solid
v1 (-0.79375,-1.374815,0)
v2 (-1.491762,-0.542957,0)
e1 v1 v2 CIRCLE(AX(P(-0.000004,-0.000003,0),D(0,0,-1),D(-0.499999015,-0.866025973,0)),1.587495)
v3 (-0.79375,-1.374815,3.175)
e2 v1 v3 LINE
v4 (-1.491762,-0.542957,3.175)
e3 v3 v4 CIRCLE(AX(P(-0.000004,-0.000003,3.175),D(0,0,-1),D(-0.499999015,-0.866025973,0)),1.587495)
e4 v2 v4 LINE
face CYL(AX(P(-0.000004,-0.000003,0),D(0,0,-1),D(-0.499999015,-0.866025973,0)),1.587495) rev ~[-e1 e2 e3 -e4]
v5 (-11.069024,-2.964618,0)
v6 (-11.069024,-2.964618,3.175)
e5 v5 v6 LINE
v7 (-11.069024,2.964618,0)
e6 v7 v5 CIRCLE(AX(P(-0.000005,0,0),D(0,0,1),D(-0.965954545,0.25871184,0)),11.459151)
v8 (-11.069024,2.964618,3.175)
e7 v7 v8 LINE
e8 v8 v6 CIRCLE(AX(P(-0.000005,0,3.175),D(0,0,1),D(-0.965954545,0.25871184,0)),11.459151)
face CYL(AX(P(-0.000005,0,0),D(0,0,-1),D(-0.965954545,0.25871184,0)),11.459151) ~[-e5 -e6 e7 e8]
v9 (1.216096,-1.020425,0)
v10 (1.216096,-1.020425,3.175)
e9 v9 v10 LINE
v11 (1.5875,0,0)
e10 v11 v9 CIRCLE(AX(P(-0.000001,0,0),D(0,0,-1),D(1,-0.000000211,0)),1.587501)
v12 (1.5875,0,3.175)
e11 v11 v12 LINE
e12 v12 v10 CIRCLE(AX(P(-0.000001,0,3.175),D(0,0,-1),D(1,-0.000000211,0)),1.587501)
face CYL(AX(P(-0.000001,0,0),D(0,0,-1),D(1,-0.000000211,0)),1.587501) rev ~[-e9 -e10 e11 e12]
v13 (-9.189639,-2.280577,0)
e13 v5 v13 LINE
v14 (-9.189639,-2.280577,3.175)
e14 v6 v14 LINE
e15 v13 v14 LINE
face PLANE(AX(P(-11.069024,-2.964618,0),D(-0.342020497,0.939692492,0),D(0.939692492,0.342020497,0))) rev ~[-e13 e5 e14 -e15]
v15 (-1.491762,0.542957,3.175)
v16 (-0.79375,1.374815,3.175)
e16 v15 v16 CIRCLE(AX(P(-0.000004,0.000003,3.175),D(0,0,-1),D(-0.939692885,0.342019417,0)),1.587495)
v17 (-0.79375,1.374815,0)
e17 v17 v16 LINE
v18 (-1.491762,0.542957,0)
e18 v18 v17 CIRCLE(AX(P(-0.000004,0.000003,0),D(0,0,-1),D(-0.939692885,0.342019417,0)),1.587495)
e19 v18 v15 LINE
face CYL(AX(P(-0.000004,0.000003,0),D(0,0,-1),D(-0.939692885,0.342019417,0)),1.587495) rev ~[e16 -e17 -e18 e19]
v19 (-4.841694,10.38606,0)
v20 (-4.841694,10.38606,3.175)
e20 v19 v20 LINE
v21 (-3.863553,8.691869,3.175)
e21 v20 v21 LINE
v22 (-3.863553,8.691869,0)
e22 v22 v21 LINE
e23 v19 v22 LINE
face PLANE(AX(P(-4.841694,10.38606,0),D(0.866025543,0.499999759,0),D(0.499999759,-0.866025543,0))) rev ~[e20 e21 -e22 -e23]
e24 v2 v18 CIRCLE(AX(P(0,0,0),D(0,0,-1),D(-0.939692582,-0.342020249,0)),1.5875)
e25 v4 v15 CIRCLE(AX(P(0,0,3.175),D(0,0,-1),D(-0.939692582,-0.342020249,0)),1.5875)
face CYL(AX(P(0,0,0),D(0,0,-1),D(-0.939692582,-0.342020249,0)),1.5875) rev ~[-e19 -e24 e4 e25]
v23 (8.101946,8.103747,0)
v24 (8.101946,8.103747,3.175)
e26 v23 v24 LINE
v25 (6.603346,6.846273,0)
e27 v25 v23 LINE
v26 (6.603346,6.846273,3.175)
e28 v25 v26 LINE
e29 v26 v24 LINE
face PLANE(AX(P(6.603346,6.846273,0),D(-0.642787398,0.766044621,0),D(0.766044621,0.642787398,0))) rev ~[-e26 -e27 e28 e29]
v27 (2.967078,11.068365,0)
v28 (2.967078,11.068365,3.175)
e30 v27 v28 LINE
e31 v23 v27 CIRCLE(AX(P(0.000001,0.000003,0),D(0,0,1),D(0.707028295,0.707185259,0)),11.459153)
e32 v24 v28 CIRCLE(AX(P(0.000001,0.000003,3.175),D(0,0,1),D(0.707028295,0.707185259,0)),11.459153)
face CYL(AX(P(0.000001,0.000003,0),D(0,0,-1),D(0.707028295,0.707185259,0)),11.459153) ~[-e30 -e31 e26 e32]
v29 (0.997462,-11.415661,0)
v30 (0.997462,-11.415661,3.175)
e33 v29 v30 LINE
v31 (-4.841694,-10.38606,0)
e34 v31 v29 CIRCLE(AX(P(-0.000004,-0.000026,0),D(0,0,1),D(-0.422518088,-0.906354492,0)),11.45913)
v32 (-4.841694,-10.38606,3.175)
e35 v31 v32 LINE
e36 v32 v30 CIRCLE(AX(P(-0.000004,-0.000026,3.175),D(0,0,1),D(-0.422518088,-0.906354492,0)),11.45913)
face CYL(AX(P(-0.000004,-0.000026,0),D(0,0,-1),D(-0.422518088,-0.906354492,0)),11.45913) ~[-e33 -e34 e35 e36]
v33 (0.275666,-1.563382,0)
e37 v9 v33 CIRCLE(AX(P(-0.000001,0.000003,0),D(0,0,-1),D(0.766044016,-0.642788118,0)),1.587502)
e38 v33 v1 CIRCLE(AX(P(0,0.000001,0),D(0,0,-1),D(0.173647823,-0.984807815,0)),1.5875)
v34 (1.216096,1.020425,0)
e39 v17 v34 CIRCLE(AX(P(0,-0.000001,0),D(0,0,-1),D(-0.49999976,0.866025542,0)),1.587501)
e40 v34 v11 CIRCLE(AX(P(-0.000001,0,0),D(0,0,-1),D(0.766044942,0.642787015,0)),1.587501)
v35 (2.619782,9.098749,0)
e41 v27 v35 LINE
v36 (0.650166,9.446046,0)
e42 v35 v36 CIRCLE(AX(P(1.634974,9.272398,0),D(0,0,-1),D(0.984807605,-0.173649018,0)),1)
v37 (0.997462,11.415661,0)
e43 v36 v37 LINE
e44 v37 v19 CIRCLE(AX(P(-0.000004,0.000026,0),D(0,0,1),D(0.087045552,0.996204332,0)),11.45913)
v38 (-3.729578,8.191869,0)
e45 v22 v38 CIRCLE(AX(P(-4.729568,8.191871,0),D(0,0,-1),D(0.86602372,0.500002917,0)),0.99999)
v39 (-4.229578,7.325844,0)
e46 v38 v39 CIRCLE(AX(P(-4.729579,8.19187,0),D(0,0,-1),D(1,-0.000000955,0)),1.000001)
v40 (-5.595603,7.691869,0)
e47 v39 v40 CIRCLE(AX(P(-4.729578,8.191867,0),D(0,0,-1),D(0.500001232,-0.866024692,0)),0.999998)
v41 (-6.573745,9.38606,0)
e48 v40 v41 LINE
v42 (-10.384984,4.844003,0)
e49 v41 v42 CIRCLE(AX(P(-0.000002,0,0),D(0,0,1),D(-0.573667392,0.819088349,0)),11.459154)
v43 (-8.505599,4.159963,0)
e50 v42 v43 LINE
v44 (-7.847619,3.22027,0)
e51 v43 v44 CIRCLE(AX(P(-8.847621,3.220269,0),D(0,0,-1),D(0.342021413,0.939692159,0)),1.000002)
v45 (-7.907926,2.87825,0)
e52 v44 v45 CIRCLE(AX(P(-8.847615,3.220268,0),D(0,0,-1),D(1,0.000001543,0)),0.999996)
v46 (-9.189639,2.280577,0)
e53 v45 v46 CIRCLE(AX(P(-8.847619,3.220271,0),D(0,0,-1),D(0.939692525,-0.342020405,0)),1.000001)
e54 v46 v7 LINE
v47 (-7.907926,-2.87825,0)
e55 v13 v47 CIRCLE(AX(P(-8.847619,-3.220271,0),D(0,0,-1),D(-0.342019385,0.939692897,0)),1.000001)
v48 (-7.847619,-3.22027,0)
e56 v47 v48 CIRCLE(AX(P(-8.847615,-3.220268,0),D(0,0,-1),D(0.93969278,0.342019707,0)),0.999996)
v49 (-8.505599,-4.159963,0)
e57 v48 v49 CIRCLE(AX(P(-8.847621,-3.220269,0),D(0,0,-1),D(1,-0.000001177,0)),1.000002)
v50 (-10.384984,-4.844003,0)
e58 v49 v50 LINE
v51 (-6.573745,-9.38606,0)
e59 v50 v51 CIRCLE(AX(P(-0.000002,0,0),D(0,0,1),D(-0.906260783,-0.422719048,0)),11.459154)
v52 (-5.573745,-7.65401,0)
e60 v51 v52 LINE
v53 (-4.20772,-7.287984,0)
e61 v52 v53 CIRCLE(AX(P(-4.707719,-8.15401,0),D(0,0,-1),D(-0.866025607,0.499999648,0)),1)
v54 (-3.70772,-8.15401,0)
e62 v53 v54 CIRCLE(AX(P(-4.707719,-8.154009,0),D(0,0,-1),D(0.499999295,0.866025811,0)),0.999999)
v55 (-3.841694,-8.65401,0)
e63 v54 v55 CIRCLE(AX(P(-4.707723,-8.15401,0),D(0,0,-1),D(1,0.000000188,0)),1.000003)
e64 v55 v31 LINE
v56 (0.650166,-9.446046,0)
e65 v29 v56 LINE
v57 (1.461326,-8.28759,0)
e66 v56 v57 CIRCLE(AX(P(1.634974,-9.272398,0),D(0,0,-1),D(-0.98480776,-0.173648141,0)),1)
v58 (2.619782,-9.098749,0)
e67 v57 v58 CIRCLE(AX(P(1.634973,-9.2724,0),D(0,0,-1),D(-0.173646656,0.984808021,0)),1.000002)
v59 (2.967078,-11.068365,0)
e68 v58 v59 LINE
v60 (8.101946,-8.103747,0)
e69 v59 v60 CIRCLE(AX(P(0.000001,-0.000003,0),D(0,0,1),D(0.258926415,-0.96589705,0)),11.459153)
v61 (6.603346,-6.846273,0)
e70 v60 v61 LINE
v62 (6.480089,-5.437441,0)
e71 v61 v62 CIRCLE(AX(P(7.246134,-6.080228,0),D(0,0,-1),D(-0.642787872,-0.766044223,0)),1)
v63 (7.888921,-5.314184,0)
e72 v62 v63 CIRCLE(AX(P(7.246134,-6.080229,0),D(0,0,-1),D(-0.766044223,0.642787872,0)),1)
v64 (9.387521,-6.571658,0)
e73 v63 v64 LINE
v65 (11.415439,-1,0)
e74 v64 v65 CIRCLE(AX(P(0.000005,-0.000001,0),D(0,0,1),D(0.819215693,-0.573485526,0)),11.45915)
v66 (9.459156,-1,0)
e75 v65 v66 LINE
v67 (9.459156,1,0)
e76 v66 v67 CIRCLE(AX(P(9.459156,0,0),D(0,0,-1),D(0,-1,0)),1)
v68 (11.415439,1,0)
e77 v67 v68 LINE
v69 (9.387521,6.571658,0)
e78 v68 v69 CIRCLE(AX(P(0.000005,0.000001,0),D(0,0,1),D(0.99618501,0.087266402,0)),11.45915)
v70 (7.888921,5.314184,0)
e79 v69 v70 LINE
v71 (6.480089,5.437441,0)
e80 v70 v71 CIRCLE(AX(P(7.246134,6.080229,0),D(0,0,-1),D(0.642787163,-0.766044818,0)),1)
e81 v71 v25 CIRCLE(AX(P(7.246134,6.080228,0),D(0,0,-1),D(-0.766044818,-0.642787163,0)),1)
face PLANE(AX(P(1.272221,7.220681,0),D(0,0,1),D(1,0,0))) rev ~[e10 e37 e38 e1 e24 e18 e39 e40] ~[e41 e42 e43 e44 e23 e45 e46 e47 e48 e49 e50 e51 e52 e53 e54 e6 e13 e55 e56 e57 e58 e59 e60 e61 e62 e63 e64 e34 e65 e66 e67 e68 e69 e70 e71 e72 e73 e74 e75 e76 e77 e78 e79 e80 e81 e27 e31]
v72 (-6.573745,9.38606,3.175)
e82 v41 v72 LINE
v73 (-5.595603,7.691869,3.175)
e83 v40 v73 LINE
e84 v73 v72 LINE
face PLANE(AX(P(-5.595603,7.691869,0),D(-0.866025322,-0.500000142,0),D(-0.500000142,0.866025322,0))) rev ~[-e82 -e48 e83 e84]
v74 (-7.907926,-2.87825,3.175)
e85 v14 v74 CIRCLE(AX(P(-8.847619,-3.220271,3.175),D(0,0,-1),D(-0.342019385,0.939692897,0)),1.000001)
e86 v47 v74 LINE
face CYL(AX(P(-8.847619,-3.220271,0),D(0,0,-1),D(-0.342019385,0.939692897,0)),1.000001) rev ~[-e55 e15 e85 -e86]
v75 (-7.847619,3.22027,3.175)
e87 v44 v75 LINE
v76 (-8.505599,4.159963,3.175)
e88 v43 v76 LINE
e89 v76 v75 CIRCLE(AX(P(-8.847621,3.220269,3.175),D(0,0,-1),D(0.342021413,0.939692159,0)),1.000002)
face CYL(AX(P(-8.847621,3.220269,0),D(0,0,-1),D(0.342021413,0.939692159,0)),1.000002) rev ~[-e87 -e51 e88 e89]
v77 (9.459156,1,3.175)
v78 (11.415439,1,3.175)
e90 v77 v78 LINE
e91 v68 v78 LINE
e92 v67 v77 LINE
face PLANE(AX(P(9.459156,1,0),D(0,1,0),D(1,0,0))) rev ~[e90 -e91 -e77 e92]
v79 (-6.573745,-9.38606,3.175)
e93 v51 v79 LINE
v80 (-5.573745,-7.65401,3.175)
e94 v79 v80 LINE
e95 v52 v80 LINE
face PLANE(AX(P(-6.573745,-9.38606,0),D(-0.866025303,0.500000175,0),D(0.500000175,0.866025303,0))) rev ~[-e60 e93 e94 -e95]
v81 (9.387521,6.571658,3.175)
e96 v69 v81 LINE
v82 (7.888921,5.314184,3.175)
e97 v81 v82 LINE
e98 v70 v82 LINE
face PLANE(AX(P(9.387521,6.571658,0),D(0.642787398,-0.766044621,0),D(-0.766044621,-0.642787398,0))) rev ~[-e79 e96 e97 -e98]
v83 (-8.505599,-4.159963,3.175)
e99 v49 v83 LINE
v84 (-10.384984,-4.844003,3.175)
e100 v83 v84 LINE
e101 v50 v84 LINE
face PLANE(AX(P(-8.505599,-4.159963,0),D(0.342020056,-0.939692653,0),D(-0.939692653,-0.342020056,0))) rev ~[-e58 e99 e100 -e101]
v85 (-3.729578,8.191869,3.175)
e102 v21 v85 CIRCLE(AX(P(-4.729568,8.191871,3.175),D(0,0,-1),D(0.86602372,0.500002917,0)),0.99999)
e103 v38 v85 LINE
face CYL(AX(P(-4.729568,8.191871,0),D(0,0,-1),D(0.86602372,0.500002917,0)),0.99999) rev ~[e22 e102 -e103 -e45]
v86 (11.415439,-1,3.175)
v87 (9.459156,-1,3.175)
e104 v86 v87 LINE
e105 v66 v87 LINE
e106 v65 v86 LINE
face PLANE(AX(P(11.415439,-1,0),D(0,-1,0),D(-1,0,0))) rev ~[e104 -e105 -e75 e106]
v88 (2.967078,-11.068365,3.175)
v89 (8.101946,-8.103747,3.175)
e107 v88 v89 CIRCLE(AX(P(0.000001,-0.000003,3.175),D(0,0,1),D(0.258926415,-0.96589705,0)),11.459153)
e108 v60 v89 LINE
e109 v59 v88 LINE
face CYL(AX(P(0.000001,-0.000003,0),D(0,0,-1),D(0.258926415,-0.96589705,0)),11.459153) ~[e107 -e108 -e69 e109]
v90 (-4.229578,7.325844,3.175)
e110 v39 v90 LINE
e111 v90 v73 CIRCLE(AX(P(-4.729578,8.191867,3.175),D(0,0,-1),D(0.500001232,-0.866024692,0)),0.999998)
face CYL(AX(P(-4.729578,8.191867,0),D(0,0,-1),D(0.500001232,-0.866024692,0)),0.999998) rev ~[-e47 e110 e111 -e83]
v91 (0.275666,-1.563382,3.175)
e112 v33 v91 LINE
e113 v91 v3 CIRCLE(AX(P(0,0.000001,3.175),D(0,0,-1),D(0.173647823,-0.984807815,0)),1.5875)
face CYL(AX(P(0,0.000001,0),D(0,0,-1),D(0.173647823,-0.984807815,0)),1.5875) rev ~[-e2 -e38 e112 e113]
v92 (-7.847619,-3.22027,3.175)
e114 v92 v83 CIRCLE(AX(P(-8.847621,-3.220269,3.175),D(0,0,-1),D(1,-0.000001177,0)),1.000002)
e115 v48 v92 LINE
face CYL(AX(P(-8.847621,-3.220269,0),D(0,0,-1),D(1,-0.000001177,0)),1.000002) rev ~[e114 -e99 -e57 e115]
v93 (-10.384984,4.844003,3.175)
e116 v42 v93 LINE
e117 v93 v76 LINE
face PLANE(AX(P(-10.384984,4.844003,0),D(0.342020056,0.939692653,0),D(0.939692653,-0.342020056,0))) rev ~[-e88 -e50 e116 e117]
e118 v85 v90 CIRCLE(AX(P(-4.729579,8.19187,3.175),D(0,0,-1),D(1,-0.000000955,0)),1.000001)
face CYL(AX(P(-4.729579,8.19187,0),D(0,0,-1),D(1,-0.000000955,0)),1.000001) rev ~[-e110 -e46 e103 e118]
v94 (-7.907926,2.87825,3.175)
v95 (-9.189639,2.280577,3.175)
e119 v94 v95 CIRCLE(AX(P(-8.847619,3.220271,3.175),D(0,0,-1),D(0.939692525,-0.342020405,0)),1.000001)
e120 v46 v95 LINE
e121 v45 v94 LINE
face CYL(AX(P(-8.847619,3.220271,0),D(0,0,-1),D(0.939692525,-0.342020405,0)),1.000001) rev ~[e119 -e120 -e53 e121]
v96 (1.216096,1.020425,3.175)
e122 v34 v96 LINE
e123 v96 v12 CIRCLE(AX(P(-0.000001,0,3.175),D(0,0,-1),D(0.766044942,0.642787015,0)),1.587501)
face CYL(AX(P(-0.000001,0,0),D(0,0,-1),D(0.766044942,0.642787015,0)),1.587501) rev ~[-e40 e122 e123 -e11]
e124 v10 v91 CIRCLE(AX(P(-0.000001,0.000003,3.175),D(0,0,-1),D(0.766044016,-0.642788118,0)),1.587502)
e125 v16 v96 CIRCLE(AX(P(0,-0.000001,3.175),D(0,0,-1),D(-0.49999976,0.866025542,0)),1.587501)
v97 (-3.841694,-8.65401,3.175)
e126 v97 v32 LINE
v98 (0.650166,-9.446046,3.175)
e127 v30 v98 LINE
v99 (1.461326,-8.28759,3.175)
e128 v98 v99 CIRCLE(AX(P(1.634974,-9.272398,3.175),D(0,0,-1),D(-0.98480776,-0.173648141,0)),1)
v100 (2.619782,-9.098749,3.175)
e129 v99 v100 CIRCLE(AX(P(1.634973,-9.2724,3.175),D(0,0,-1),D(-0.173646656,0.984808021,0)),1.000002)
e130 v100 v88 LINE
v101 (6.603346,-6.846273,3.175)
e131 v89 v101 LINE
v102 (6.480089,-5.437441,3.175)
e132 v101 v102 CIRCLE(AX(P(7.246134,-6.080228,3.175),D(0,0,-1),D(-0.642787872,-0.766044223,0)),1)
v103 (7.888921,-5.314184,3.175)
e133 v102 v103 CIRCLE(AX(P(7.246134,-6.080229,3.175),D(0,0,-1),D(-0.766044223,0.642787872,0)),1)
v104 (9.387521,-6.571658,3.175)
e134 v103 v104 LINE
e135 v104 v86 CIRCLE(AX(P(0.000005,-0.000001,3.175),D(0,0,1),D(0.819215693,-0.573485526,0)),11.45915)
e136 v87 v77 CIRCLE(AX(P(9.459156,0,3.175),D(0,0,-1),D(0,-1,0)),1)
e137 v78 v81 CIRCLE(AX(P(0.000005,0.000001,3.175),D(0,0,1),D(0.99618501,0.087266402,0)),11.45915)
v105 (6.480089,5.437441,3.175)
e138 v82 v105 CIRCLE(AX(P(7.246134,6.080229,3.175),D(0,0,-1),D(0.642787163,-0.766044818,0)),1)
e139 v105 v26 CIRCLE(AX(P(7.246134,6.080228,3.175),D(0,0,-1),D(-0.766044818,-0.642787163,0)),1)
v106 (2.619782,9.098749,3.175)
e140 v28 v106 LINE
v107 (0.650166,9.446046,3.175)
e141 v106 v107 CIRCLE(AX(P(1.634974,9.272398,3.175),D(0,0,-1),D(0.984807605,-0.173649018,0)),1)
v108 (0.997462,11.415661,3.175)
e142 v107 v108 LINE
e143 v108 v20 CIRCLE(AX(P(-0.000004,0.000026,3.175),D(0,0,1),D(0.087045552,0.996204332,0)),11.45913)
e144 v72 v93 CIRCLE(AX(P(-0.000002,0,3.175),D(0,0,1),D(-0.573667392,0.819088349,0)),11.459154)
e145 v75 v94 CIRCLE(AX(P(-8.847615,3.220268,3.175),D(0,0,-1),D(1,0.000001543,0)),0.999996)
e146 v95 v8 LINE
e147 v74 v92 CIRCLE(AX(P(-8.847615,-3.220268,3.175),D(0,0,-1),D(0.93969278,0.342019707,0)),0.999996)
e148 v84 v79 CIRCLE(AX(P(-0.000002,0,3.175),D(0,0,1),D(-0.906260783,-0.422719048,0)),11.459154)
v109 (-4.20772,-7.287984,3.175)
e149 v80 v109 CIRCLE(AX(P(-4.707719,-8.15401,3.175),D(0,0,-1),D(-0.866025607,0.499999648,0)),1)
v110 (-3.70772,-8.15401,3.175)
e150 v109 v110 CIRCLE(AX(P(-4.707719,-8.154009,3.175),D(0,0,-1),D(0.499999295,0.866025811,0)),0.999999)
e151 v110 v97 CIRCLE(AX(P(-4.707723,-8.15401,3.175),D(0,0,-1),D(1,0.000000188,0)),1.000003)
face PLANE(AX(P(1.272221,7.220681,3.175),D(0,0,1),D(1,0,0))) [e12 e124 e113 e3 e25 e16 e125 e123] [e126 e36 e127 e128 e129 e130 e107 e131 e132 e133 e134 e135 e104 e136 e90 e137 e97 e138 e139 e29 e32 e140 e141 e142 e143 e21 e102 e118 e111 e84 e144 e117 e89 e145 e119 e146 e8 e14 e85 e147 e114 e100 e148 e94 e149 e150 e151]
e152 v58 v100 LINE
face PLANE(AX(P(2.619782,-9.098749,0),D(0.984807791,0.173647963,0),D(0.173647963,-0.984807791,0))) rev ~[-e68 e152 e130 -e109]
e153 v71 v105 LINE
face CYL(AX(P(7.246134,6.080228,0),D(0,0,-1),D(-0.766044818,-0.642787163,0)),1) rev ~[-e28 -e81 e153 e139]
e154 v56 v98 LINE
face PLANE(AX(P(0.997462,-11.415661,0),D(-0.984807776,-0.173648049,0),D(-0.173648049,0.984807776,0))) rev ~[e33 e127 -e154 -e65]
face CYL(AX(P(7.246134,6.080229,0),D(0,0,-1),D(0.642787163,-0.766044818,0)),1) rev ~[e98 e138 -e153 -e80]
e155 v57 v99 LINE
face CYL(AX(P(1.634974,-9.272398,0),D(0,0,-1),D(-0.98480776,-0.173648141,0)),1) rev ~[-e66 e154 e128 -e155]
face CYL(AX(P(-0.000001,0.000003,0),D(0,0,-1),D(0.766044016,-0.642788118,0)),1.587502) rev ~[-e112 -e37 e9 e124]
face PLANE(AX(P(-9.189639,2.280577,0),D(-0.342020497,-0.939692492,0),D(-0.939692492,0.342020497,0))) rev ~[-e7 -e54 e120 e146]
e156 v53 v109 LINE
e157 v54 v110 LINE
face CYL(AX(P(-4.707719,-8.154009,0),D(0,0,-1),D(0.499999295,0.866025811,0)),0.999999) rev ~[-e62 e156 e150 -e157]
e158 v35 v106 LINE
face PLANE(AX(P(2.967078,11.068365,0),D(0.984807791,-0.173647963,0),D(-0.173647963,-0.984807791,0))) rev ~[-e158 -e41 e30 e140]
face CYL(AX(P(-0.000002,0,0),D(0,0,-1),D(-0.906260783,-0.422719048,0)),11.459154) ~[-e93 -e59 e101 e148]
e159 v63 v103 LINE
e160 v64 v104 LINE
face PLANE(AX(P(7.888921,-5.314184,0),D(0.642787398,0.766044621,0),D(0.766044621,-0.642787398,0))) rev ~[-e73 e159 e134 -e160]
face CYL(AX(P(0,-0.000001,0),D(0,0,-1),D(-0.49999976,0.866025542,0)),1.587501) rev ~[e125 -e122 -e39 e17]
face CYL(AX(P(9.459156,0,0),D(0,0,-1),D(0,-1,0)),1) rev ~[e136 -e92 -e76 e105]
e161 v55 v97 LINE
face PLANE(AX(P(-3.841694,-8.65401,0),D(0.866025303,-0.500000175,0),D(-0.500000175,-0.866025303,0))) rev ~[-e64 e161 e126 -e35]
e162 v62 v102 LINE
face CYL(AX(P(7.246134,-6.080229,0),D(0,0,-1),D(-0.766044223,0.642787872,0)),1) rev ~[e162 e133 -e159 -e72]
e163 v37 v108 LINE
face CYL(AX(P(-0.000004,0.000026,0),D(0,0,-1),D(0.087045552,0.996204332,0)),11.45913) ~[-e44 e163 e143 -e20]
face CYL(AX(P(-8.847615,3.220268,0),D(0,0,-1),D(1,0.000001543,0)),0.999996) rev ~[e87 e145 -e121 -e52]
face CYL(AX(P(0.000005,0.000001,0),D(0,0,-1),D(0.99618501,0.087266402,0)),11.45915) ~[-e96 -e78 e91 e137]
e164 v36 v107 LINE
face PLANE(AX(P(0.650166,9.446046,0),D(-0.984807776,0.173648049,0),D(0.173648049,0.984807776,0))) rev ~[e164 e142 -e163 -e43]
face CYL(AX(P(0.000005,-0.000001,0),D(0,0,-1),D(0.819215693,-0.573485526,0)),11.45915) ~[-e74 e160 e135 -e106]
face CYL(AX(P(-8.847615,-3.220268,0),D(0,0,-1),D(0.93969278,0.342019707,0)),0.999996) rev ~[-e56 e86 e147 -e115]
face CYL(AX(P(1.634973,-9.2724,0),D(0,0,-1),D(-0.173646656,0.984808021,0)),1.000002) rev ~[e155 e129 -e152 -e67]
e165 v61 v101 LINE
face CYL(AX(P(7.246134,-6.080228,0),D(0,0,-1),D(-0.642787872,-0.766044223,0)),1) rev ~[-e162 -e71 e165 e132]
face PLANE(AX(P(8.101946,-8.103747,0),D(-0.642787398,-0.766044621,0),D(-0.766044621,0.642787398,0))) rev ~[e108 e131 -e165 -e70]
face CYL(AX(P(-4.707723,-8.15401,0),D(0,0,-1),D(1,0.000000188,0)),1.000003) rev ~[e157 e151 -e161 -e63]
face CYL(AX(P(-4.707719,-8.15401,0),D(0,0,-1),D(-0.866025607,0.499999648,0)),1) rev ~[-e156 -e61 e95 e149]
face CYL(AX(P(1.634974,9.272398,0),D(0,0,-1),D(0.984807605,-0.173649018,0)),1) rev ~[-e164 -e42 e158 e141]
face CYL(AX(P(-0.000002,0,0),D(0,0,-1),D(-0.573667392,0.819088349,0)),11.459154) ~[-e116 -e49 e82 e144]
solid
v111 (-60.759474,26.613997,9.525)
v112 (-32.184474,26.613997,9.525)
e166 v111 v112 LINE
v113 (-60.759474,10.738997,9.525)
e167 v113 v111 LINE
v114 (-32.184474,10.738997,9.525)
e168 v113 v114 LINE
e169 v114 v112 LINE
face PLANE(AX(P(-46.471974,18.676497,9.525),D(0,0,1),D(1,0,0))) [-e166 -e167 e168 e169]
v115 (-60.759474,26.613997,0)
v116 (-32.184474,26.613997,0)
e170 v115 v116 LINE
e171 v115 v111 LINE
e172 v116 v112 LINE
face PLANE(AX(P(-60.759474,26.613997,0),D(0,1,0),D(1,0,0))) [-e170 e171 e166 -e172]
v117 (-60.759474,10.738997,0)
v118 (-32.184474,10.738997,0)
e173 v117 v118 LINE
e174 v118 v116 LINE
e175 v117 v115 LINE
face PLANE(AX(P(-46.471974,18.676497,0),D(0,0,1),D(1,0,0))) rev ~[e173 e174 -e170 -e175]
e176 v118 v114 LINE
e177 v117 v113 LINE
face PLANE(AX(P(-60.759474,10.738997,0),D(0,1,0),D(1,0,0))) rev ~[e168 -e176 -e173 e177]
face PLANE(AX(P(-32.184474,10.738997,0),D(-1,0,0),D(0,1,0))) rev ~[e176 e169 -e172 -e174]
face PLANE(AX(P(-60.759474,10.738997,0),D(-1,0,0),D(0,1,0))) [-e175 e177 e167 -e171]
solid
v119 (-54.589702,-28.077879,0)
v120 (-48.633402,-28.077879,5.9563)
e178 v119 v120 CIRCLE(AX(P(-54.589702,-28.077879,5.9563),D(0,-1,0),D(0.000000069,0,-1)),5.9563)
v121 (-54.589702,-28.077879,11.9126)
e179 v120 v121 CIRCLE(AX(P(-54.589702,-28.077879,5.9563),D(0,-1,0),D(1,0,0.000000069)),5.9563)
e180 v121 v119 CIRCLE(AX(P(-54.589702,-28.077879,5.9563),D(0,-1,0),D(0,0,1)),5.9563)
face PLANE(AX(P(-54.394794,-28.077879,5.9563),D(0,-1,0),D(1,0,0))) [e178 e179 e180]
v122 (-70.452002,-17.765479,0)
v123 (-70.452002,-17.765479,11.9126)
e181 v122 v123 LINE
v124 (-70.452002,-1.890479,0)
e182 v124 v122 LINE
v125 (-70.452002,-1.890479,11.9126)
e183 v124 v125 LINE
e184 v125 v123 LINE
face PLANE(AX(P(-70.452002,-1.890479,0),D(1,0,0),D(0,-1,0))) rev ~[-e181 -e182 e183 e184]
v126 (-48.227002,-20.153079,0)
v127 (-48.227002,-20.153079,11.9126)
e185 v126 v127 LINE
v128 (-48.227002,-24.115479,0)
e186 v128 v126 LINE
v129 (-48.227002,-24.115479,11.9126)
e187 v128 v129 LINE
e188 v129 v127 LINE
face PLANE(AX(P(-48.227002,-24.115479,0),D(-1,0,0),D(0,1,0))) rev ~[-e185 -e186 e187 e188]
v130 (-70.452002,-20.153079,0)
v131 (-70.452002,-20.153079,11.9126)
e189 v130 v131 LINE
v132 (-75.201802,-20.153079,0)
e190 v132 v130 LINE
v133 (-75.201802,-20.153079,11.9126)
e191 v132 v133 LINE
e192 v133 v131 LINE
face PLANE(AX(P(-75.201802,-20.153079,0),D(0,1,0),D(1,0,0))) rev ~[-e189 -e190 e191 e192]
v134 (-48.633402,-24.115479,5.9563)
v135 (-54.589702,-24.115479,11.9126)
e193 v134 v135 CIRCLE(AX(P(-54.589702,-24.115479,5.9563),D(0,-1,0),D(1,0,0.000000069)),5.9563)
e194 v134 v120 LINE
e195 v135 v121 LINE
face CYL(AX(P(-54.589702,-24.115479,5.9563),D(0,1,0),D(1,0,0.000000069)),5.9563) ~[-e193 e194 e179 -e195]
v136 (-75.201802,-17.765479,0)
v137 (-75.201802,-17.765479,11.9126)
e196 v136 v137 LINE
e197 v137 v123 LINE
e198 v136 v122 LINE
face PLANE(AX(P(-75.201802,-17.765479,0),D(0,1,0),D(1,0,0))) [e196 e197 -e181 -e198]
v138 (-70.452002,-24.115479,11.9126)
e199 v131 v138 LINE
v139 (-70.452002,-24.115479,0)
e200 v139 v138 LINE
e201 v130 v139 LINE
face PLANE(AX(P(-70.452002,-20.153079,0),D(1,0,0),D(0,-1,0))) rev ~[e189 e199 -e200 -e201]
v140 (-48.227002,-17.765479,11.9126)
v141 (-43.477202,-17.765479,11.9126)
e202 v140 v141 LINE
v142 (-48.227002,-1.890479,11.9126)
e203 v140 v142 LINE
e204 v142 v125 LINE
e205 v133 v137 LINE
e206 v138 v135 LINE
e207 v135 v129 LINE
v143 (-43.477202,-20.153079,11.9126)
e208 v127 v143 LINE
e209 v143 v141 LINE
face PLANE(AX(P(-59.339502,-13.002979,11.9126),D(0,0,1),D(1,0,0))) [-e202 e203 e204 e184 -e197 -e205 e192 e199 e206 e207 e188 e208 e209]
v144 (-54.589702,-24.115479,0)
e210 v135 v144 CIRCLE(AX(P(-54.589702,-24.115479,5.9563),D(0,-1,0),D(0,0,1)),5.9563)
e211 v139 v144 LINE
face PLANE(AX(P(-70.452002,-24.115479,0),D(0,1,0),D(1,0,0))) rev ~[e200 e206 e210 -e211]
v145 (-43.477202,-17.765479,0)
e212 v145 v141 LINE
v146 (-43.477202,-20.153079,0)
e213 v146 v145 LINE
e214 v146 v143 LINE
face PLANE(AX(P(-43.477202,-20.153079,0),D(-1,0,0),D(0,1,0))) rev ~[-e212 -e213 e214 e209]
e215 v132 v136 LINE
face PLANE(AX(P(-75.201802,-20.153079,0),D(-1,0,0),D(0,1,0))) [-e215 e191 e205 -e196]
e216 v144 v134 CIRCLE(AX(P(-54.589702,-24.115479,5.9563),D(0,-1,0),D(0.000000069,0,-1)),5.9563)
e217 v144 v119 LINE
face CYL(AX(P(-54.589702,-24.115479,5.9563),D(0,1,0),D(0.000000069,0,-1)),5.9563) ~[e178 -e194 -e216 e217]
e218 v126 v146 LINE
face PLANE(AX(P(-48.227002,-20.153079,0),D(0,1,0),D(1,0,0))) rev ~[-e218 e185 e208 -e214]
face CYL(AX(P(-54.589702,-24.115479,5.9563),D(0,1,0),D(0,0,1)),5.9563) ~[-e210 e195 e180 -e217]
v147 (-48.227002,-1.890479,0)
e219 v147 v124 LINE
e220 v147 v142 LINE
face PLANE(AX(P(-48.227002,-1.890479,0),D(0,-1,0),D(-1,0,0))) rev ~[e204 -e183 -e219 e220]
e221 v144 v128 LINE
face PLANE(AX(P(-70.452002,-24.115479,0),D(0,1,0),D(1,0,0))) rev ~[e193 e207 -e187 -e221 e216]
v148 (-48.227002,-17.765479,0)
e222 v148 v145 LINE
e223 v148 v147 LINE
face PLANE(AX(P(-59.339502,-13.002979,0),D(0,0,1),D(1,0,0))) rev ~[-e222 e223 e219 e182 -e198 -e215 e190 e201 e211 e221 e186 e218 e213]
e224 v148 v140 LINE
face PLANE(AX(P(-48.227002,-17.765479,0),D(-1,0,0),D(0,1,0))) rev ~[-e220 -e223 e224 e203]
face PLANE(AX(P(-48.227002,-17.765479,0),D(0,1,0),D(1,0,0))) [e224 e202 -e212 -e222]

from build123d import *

# Parameters (mm, degrees)
F1_DEPTH = 3.175
F2_W     = 4.7498
F2_H     = 2.3876
F3_DEPTH = 11.9126
F5_DEPTH = 3.9624
F6_W     = 28.575
F6_H     = 15.875
F7_DEPTH = 9.525


with BuildPart() as f1:
    # F0 (on Top) → F1 (new body)
    with BuildSketch(Plane.XY):
        with BuildLine():
            Line((6.603346, 6.846273), (8.101946, 8.103747))
            ThreePointArc((8.101946, 8.103747), (5.729578, 9.92392), (2.967078, 11.068365))
            Line((2.967078, 11.068365), (2.619782, 9.098749))
            ThreePointArc((2.619782, 9.098749), (1.461326, 8.28759), (0.650166, 9.446046))
            Line((0.650166, 9.446046), (0.997462, 11.415661))
            ThreePointArc((0.997462, 11.415661), (-1.989862, 11.285066), (-4.841694, 10.38606))
            Line((-4.841694, 10.38606), (-3.863553, 8.691869))
            ThreePointArc((-3.863553, 8.691869), (-3.763652, 8.450688), (-3.729578, 8.191869))
            ThreePointArc((-3.729578, 8.191869), (-3.863553, 7.691869), (-4.229578, 7.325844))
            Line((-4.229578, 7.325844), (-0.79375, 1.374815))
            ThreePointArc((-0.79375, 1.374815), (0.275666, 1.563382), (1.216096, 1.020425))
            Line((1.216096, 1.020425), (6.480089, 5.437441))
            ThreePointArc((6.480089, 5.437441), (6.249939, 6.167384), (6.603346, 6.846273))
        make_face()
        with BuildLine():
            Line((9.459156, 1), (11.415439, 1))
            ThreePointArc((11.415439, 1), (10.768084, 3.919262), (9.387521, 6.571658))
            Line((9.387521, 6.571658), (7.888921, 5.314184))
            ThreePointArc((7.888921, 5.314184), (7.158978, 5.084034), (6.480089, 5.437441))
            Line((6.480089, 5.437441), (1.216096, 1.020425))
            ThreePointArc((1.216096, 1.020425), (1.491762, 0.542957), (1.5875, 0))
            ThreePointArc((1.5875, 0), (1.491762, -0.542957), (1.216096, -1.020425))
            Line((1.216096, -1.020425), (6.480089, -5.437441))
            ThreePointArc((6.480089, -5.437441), (7.158978, -5.084034), (7.888921, -5.314184))
            Line((7.888921, -5.314184), (9.387521, -6.571658))
            ThreePointArc((9.387521, -6.571658), (10.768084, -3.919262), (11.415439, -1))
            Line((11.415439, -1), (9.459156, -1))
            ThreePointArc((9.459156, -1), (8.459156, 0), (9.459156, 1))
        make_face()
        with BuildLine():
            ThreePointArc((2.967078, -11.068365), (5.729578, -9.92392), (8.101946, -8.103747))
            Line((8.101946, -8.103747), (6.603346, -6.846273))
            ThreePointArc((6.603346, -6.846273), (6.249939, -6.167384), (6.480089, -5.437441))
            Line((6.480089, -5.437441), (1.216096, -1.020425))
            ThreePointArc((1.216096, -1.020425), (0.79375, -1.374815), (0.275666, -1.563382))
            Line((0.275666, -1.563382), (1.461326, -8.28759))
            ThreePointArc((1.461326, -8.28759), (2.20855, -8.453246), (2.619782, -9.098749))
            Line((2.619782, -9.098749), (2.967078, -11.068365))
        make_face()
        with BuildLine():
            Line((1.461326, -8.28759), (0.275666, -1.563382))
            ThreePointArc((0.275666, -1.563382), (-0.275666, -1.563382), (-0.79375, -1.374815))
            Line((-0.79375, -1.374815), (-4.20772, -7.287984))
            ThreePointArc((-4.20772, -7.287984), (-3.841694, -7.65401), (-3.70772, -8.15401))
            ThreePointArc((-3.70772, -8.15401), (-3.741794, -8.412829), (-3.841694, -8.65401))
            Line((-3.841694, -8.65401), (-4.841694, -10.38606))
            ThreePointArc((-4.841694, -10.38606), (-1.989862, -11.285066), (0.997462, -11.415661))
            Line((0.997462, -11.415661), (0.650166, -9.446046))
            ThreePointArc((0.650166, -9.446046), (0.815822, -8.698821), (1.461326, -8.28759))
        make_face()
        with BuildLine():
            ThreePointArc((-0.79375, -1.374815), (-1.216096, -1.020425), (-1.491762, -0.542957))
            Line((-1.491762, -0.542957), (-7.907926, -2.87825))
            ThreePointArc((-7.907926, -2.87825), (-7.862811, -3.046622), (-7.847619, -3.22027))
            ThreePointArc((-7.847619, -3.22027), (-8.028467, -3.793846), (-8.505599, -4.159963))
            Line((-8.505599, -4.159963), (-10.384984, -4.844003))
            ThreePointArc((-10.384984, -4.844003), (-8.778223, -7.365803), (-6.573745, -9.38606))
            Line((-6.573745, -9.38606), (-5.573745, -7.65401))
            ThreePointArc((-5.573745, -7.65401), (-4.966539, -7.188084), (-4.20772, -7.287984))
            Line((-4.20772, -7.287984), (-0.79375, -1.374815))
        make_face()
        with BuildLine():
            Line((-7.907926, -2.87825), (-1.491762, -0.542957))
            ThreePointArc((-1.491762, -0.542957), (-1.5875, 0), (-1.491762, 0.542957))
            Line((-1.491762, 0.542957), (-7.907926, 2.87825))
            ThreePointArc((-7.907926, 2.87825), (-8.425001, 2.313962), (-9.189639, 2.280577))
            Line((-9.189639, 2.280577), (-11.069024, 2.964618))
            ThreePointArc((-11.069024, 2.964618), (-11.459156, 0), (-11.069024, -2.964618))
            Line((-11.069024, -2.964618), (-9.189639, -2.280577))
            ThreePointArc((-9.189639, -2.280577), (-8.425001, -2.313962), (-7.907926, -2.87825))
        make_face()
        with BuildLine():
            ThreePointArc((-1.491762, 0.542957), (-1.216096, 1.020425), (-0.79375, 1.374815))
            Line((-0.79375, 1.374815), (-4.229578, 7.325844))
            ThreePointArc((-4.229578, 7.325844), (-4.988397, 7.225943), (-5.595603, 7.691869))
            Line((-5.595603, 7.691869), (-6.573745, 9.38606))
            ThreePointArc((-6.573745, 9.38606), (-8.778223, 7.365803), (-10.384984, 4.844003))
            Line((-10.384984, 4.844003), (-8.505599, 4.159963))
            ThreePointArc((-8.505599, 4.159963), (-8.028467, 3.793846), (-7.847619, 3.22027))
            ThreePointArc((-7.847619, 3.22027), (-7.862811, 3.046622), (-7.907926, 2.87825))
            Line((-7.907926, 2.87825), (-1.491762, 0.542957))
        make_face()
    extrude(amount=F1_DEPTH)


with BuildPart() as f3:
    # F2 (on Top) → F3 (new body)
    with BuildSketch(Plane.XY):
        Polygon((-48.227002, -1.890479), (-70.452002, -1.890479), (-70.452002, -17.765479), (-70.452002, -20.153079), (-70.452002, -24.115479), (-48.227002, -24.115479), (-48.227002, -20.153079), (-48.227002, -17.765479), align=None)
        with Locations((-72.826902, -18.959279)):
            Rectangle(F2_W, F2_H)
        with Locations((-45.852102, -18.959279)):
            Rectangle(F2_W, F2_H)
    extrude(amount=F3_DEPTH)

    # F4 (on face) → F5 (join)
    with BuildSketch(Plane.XZ.offset(24.115479)):
        with BuildLine():
            ThreePointArc((-54.589702, 0), (-50.377962, 1.74456), (-48.633402, 5.9563))
            ThreePointArc((-48.633402, 5.9563), (-50.377962, 10.16804), (-54.589702, 11.9126))
            ThreePointArc((-54.589702, 11.9126), (-60.546002, 5.9563), (-54.589702, 0))
        make_face()
    extrude(amount=F5_DEPTH)


with BuildPart() as f7:
    # F6 (on Top) → F7 (new body)
    with BuildSketch(Plane.XY):
        with Locations((-46.471974, 18.676497)):
            Rectangle(F6_W, F6_H)
    extrude(amount=F7_DEPTH)


solid = Compound([f1.part, f3.part, f7.part])
